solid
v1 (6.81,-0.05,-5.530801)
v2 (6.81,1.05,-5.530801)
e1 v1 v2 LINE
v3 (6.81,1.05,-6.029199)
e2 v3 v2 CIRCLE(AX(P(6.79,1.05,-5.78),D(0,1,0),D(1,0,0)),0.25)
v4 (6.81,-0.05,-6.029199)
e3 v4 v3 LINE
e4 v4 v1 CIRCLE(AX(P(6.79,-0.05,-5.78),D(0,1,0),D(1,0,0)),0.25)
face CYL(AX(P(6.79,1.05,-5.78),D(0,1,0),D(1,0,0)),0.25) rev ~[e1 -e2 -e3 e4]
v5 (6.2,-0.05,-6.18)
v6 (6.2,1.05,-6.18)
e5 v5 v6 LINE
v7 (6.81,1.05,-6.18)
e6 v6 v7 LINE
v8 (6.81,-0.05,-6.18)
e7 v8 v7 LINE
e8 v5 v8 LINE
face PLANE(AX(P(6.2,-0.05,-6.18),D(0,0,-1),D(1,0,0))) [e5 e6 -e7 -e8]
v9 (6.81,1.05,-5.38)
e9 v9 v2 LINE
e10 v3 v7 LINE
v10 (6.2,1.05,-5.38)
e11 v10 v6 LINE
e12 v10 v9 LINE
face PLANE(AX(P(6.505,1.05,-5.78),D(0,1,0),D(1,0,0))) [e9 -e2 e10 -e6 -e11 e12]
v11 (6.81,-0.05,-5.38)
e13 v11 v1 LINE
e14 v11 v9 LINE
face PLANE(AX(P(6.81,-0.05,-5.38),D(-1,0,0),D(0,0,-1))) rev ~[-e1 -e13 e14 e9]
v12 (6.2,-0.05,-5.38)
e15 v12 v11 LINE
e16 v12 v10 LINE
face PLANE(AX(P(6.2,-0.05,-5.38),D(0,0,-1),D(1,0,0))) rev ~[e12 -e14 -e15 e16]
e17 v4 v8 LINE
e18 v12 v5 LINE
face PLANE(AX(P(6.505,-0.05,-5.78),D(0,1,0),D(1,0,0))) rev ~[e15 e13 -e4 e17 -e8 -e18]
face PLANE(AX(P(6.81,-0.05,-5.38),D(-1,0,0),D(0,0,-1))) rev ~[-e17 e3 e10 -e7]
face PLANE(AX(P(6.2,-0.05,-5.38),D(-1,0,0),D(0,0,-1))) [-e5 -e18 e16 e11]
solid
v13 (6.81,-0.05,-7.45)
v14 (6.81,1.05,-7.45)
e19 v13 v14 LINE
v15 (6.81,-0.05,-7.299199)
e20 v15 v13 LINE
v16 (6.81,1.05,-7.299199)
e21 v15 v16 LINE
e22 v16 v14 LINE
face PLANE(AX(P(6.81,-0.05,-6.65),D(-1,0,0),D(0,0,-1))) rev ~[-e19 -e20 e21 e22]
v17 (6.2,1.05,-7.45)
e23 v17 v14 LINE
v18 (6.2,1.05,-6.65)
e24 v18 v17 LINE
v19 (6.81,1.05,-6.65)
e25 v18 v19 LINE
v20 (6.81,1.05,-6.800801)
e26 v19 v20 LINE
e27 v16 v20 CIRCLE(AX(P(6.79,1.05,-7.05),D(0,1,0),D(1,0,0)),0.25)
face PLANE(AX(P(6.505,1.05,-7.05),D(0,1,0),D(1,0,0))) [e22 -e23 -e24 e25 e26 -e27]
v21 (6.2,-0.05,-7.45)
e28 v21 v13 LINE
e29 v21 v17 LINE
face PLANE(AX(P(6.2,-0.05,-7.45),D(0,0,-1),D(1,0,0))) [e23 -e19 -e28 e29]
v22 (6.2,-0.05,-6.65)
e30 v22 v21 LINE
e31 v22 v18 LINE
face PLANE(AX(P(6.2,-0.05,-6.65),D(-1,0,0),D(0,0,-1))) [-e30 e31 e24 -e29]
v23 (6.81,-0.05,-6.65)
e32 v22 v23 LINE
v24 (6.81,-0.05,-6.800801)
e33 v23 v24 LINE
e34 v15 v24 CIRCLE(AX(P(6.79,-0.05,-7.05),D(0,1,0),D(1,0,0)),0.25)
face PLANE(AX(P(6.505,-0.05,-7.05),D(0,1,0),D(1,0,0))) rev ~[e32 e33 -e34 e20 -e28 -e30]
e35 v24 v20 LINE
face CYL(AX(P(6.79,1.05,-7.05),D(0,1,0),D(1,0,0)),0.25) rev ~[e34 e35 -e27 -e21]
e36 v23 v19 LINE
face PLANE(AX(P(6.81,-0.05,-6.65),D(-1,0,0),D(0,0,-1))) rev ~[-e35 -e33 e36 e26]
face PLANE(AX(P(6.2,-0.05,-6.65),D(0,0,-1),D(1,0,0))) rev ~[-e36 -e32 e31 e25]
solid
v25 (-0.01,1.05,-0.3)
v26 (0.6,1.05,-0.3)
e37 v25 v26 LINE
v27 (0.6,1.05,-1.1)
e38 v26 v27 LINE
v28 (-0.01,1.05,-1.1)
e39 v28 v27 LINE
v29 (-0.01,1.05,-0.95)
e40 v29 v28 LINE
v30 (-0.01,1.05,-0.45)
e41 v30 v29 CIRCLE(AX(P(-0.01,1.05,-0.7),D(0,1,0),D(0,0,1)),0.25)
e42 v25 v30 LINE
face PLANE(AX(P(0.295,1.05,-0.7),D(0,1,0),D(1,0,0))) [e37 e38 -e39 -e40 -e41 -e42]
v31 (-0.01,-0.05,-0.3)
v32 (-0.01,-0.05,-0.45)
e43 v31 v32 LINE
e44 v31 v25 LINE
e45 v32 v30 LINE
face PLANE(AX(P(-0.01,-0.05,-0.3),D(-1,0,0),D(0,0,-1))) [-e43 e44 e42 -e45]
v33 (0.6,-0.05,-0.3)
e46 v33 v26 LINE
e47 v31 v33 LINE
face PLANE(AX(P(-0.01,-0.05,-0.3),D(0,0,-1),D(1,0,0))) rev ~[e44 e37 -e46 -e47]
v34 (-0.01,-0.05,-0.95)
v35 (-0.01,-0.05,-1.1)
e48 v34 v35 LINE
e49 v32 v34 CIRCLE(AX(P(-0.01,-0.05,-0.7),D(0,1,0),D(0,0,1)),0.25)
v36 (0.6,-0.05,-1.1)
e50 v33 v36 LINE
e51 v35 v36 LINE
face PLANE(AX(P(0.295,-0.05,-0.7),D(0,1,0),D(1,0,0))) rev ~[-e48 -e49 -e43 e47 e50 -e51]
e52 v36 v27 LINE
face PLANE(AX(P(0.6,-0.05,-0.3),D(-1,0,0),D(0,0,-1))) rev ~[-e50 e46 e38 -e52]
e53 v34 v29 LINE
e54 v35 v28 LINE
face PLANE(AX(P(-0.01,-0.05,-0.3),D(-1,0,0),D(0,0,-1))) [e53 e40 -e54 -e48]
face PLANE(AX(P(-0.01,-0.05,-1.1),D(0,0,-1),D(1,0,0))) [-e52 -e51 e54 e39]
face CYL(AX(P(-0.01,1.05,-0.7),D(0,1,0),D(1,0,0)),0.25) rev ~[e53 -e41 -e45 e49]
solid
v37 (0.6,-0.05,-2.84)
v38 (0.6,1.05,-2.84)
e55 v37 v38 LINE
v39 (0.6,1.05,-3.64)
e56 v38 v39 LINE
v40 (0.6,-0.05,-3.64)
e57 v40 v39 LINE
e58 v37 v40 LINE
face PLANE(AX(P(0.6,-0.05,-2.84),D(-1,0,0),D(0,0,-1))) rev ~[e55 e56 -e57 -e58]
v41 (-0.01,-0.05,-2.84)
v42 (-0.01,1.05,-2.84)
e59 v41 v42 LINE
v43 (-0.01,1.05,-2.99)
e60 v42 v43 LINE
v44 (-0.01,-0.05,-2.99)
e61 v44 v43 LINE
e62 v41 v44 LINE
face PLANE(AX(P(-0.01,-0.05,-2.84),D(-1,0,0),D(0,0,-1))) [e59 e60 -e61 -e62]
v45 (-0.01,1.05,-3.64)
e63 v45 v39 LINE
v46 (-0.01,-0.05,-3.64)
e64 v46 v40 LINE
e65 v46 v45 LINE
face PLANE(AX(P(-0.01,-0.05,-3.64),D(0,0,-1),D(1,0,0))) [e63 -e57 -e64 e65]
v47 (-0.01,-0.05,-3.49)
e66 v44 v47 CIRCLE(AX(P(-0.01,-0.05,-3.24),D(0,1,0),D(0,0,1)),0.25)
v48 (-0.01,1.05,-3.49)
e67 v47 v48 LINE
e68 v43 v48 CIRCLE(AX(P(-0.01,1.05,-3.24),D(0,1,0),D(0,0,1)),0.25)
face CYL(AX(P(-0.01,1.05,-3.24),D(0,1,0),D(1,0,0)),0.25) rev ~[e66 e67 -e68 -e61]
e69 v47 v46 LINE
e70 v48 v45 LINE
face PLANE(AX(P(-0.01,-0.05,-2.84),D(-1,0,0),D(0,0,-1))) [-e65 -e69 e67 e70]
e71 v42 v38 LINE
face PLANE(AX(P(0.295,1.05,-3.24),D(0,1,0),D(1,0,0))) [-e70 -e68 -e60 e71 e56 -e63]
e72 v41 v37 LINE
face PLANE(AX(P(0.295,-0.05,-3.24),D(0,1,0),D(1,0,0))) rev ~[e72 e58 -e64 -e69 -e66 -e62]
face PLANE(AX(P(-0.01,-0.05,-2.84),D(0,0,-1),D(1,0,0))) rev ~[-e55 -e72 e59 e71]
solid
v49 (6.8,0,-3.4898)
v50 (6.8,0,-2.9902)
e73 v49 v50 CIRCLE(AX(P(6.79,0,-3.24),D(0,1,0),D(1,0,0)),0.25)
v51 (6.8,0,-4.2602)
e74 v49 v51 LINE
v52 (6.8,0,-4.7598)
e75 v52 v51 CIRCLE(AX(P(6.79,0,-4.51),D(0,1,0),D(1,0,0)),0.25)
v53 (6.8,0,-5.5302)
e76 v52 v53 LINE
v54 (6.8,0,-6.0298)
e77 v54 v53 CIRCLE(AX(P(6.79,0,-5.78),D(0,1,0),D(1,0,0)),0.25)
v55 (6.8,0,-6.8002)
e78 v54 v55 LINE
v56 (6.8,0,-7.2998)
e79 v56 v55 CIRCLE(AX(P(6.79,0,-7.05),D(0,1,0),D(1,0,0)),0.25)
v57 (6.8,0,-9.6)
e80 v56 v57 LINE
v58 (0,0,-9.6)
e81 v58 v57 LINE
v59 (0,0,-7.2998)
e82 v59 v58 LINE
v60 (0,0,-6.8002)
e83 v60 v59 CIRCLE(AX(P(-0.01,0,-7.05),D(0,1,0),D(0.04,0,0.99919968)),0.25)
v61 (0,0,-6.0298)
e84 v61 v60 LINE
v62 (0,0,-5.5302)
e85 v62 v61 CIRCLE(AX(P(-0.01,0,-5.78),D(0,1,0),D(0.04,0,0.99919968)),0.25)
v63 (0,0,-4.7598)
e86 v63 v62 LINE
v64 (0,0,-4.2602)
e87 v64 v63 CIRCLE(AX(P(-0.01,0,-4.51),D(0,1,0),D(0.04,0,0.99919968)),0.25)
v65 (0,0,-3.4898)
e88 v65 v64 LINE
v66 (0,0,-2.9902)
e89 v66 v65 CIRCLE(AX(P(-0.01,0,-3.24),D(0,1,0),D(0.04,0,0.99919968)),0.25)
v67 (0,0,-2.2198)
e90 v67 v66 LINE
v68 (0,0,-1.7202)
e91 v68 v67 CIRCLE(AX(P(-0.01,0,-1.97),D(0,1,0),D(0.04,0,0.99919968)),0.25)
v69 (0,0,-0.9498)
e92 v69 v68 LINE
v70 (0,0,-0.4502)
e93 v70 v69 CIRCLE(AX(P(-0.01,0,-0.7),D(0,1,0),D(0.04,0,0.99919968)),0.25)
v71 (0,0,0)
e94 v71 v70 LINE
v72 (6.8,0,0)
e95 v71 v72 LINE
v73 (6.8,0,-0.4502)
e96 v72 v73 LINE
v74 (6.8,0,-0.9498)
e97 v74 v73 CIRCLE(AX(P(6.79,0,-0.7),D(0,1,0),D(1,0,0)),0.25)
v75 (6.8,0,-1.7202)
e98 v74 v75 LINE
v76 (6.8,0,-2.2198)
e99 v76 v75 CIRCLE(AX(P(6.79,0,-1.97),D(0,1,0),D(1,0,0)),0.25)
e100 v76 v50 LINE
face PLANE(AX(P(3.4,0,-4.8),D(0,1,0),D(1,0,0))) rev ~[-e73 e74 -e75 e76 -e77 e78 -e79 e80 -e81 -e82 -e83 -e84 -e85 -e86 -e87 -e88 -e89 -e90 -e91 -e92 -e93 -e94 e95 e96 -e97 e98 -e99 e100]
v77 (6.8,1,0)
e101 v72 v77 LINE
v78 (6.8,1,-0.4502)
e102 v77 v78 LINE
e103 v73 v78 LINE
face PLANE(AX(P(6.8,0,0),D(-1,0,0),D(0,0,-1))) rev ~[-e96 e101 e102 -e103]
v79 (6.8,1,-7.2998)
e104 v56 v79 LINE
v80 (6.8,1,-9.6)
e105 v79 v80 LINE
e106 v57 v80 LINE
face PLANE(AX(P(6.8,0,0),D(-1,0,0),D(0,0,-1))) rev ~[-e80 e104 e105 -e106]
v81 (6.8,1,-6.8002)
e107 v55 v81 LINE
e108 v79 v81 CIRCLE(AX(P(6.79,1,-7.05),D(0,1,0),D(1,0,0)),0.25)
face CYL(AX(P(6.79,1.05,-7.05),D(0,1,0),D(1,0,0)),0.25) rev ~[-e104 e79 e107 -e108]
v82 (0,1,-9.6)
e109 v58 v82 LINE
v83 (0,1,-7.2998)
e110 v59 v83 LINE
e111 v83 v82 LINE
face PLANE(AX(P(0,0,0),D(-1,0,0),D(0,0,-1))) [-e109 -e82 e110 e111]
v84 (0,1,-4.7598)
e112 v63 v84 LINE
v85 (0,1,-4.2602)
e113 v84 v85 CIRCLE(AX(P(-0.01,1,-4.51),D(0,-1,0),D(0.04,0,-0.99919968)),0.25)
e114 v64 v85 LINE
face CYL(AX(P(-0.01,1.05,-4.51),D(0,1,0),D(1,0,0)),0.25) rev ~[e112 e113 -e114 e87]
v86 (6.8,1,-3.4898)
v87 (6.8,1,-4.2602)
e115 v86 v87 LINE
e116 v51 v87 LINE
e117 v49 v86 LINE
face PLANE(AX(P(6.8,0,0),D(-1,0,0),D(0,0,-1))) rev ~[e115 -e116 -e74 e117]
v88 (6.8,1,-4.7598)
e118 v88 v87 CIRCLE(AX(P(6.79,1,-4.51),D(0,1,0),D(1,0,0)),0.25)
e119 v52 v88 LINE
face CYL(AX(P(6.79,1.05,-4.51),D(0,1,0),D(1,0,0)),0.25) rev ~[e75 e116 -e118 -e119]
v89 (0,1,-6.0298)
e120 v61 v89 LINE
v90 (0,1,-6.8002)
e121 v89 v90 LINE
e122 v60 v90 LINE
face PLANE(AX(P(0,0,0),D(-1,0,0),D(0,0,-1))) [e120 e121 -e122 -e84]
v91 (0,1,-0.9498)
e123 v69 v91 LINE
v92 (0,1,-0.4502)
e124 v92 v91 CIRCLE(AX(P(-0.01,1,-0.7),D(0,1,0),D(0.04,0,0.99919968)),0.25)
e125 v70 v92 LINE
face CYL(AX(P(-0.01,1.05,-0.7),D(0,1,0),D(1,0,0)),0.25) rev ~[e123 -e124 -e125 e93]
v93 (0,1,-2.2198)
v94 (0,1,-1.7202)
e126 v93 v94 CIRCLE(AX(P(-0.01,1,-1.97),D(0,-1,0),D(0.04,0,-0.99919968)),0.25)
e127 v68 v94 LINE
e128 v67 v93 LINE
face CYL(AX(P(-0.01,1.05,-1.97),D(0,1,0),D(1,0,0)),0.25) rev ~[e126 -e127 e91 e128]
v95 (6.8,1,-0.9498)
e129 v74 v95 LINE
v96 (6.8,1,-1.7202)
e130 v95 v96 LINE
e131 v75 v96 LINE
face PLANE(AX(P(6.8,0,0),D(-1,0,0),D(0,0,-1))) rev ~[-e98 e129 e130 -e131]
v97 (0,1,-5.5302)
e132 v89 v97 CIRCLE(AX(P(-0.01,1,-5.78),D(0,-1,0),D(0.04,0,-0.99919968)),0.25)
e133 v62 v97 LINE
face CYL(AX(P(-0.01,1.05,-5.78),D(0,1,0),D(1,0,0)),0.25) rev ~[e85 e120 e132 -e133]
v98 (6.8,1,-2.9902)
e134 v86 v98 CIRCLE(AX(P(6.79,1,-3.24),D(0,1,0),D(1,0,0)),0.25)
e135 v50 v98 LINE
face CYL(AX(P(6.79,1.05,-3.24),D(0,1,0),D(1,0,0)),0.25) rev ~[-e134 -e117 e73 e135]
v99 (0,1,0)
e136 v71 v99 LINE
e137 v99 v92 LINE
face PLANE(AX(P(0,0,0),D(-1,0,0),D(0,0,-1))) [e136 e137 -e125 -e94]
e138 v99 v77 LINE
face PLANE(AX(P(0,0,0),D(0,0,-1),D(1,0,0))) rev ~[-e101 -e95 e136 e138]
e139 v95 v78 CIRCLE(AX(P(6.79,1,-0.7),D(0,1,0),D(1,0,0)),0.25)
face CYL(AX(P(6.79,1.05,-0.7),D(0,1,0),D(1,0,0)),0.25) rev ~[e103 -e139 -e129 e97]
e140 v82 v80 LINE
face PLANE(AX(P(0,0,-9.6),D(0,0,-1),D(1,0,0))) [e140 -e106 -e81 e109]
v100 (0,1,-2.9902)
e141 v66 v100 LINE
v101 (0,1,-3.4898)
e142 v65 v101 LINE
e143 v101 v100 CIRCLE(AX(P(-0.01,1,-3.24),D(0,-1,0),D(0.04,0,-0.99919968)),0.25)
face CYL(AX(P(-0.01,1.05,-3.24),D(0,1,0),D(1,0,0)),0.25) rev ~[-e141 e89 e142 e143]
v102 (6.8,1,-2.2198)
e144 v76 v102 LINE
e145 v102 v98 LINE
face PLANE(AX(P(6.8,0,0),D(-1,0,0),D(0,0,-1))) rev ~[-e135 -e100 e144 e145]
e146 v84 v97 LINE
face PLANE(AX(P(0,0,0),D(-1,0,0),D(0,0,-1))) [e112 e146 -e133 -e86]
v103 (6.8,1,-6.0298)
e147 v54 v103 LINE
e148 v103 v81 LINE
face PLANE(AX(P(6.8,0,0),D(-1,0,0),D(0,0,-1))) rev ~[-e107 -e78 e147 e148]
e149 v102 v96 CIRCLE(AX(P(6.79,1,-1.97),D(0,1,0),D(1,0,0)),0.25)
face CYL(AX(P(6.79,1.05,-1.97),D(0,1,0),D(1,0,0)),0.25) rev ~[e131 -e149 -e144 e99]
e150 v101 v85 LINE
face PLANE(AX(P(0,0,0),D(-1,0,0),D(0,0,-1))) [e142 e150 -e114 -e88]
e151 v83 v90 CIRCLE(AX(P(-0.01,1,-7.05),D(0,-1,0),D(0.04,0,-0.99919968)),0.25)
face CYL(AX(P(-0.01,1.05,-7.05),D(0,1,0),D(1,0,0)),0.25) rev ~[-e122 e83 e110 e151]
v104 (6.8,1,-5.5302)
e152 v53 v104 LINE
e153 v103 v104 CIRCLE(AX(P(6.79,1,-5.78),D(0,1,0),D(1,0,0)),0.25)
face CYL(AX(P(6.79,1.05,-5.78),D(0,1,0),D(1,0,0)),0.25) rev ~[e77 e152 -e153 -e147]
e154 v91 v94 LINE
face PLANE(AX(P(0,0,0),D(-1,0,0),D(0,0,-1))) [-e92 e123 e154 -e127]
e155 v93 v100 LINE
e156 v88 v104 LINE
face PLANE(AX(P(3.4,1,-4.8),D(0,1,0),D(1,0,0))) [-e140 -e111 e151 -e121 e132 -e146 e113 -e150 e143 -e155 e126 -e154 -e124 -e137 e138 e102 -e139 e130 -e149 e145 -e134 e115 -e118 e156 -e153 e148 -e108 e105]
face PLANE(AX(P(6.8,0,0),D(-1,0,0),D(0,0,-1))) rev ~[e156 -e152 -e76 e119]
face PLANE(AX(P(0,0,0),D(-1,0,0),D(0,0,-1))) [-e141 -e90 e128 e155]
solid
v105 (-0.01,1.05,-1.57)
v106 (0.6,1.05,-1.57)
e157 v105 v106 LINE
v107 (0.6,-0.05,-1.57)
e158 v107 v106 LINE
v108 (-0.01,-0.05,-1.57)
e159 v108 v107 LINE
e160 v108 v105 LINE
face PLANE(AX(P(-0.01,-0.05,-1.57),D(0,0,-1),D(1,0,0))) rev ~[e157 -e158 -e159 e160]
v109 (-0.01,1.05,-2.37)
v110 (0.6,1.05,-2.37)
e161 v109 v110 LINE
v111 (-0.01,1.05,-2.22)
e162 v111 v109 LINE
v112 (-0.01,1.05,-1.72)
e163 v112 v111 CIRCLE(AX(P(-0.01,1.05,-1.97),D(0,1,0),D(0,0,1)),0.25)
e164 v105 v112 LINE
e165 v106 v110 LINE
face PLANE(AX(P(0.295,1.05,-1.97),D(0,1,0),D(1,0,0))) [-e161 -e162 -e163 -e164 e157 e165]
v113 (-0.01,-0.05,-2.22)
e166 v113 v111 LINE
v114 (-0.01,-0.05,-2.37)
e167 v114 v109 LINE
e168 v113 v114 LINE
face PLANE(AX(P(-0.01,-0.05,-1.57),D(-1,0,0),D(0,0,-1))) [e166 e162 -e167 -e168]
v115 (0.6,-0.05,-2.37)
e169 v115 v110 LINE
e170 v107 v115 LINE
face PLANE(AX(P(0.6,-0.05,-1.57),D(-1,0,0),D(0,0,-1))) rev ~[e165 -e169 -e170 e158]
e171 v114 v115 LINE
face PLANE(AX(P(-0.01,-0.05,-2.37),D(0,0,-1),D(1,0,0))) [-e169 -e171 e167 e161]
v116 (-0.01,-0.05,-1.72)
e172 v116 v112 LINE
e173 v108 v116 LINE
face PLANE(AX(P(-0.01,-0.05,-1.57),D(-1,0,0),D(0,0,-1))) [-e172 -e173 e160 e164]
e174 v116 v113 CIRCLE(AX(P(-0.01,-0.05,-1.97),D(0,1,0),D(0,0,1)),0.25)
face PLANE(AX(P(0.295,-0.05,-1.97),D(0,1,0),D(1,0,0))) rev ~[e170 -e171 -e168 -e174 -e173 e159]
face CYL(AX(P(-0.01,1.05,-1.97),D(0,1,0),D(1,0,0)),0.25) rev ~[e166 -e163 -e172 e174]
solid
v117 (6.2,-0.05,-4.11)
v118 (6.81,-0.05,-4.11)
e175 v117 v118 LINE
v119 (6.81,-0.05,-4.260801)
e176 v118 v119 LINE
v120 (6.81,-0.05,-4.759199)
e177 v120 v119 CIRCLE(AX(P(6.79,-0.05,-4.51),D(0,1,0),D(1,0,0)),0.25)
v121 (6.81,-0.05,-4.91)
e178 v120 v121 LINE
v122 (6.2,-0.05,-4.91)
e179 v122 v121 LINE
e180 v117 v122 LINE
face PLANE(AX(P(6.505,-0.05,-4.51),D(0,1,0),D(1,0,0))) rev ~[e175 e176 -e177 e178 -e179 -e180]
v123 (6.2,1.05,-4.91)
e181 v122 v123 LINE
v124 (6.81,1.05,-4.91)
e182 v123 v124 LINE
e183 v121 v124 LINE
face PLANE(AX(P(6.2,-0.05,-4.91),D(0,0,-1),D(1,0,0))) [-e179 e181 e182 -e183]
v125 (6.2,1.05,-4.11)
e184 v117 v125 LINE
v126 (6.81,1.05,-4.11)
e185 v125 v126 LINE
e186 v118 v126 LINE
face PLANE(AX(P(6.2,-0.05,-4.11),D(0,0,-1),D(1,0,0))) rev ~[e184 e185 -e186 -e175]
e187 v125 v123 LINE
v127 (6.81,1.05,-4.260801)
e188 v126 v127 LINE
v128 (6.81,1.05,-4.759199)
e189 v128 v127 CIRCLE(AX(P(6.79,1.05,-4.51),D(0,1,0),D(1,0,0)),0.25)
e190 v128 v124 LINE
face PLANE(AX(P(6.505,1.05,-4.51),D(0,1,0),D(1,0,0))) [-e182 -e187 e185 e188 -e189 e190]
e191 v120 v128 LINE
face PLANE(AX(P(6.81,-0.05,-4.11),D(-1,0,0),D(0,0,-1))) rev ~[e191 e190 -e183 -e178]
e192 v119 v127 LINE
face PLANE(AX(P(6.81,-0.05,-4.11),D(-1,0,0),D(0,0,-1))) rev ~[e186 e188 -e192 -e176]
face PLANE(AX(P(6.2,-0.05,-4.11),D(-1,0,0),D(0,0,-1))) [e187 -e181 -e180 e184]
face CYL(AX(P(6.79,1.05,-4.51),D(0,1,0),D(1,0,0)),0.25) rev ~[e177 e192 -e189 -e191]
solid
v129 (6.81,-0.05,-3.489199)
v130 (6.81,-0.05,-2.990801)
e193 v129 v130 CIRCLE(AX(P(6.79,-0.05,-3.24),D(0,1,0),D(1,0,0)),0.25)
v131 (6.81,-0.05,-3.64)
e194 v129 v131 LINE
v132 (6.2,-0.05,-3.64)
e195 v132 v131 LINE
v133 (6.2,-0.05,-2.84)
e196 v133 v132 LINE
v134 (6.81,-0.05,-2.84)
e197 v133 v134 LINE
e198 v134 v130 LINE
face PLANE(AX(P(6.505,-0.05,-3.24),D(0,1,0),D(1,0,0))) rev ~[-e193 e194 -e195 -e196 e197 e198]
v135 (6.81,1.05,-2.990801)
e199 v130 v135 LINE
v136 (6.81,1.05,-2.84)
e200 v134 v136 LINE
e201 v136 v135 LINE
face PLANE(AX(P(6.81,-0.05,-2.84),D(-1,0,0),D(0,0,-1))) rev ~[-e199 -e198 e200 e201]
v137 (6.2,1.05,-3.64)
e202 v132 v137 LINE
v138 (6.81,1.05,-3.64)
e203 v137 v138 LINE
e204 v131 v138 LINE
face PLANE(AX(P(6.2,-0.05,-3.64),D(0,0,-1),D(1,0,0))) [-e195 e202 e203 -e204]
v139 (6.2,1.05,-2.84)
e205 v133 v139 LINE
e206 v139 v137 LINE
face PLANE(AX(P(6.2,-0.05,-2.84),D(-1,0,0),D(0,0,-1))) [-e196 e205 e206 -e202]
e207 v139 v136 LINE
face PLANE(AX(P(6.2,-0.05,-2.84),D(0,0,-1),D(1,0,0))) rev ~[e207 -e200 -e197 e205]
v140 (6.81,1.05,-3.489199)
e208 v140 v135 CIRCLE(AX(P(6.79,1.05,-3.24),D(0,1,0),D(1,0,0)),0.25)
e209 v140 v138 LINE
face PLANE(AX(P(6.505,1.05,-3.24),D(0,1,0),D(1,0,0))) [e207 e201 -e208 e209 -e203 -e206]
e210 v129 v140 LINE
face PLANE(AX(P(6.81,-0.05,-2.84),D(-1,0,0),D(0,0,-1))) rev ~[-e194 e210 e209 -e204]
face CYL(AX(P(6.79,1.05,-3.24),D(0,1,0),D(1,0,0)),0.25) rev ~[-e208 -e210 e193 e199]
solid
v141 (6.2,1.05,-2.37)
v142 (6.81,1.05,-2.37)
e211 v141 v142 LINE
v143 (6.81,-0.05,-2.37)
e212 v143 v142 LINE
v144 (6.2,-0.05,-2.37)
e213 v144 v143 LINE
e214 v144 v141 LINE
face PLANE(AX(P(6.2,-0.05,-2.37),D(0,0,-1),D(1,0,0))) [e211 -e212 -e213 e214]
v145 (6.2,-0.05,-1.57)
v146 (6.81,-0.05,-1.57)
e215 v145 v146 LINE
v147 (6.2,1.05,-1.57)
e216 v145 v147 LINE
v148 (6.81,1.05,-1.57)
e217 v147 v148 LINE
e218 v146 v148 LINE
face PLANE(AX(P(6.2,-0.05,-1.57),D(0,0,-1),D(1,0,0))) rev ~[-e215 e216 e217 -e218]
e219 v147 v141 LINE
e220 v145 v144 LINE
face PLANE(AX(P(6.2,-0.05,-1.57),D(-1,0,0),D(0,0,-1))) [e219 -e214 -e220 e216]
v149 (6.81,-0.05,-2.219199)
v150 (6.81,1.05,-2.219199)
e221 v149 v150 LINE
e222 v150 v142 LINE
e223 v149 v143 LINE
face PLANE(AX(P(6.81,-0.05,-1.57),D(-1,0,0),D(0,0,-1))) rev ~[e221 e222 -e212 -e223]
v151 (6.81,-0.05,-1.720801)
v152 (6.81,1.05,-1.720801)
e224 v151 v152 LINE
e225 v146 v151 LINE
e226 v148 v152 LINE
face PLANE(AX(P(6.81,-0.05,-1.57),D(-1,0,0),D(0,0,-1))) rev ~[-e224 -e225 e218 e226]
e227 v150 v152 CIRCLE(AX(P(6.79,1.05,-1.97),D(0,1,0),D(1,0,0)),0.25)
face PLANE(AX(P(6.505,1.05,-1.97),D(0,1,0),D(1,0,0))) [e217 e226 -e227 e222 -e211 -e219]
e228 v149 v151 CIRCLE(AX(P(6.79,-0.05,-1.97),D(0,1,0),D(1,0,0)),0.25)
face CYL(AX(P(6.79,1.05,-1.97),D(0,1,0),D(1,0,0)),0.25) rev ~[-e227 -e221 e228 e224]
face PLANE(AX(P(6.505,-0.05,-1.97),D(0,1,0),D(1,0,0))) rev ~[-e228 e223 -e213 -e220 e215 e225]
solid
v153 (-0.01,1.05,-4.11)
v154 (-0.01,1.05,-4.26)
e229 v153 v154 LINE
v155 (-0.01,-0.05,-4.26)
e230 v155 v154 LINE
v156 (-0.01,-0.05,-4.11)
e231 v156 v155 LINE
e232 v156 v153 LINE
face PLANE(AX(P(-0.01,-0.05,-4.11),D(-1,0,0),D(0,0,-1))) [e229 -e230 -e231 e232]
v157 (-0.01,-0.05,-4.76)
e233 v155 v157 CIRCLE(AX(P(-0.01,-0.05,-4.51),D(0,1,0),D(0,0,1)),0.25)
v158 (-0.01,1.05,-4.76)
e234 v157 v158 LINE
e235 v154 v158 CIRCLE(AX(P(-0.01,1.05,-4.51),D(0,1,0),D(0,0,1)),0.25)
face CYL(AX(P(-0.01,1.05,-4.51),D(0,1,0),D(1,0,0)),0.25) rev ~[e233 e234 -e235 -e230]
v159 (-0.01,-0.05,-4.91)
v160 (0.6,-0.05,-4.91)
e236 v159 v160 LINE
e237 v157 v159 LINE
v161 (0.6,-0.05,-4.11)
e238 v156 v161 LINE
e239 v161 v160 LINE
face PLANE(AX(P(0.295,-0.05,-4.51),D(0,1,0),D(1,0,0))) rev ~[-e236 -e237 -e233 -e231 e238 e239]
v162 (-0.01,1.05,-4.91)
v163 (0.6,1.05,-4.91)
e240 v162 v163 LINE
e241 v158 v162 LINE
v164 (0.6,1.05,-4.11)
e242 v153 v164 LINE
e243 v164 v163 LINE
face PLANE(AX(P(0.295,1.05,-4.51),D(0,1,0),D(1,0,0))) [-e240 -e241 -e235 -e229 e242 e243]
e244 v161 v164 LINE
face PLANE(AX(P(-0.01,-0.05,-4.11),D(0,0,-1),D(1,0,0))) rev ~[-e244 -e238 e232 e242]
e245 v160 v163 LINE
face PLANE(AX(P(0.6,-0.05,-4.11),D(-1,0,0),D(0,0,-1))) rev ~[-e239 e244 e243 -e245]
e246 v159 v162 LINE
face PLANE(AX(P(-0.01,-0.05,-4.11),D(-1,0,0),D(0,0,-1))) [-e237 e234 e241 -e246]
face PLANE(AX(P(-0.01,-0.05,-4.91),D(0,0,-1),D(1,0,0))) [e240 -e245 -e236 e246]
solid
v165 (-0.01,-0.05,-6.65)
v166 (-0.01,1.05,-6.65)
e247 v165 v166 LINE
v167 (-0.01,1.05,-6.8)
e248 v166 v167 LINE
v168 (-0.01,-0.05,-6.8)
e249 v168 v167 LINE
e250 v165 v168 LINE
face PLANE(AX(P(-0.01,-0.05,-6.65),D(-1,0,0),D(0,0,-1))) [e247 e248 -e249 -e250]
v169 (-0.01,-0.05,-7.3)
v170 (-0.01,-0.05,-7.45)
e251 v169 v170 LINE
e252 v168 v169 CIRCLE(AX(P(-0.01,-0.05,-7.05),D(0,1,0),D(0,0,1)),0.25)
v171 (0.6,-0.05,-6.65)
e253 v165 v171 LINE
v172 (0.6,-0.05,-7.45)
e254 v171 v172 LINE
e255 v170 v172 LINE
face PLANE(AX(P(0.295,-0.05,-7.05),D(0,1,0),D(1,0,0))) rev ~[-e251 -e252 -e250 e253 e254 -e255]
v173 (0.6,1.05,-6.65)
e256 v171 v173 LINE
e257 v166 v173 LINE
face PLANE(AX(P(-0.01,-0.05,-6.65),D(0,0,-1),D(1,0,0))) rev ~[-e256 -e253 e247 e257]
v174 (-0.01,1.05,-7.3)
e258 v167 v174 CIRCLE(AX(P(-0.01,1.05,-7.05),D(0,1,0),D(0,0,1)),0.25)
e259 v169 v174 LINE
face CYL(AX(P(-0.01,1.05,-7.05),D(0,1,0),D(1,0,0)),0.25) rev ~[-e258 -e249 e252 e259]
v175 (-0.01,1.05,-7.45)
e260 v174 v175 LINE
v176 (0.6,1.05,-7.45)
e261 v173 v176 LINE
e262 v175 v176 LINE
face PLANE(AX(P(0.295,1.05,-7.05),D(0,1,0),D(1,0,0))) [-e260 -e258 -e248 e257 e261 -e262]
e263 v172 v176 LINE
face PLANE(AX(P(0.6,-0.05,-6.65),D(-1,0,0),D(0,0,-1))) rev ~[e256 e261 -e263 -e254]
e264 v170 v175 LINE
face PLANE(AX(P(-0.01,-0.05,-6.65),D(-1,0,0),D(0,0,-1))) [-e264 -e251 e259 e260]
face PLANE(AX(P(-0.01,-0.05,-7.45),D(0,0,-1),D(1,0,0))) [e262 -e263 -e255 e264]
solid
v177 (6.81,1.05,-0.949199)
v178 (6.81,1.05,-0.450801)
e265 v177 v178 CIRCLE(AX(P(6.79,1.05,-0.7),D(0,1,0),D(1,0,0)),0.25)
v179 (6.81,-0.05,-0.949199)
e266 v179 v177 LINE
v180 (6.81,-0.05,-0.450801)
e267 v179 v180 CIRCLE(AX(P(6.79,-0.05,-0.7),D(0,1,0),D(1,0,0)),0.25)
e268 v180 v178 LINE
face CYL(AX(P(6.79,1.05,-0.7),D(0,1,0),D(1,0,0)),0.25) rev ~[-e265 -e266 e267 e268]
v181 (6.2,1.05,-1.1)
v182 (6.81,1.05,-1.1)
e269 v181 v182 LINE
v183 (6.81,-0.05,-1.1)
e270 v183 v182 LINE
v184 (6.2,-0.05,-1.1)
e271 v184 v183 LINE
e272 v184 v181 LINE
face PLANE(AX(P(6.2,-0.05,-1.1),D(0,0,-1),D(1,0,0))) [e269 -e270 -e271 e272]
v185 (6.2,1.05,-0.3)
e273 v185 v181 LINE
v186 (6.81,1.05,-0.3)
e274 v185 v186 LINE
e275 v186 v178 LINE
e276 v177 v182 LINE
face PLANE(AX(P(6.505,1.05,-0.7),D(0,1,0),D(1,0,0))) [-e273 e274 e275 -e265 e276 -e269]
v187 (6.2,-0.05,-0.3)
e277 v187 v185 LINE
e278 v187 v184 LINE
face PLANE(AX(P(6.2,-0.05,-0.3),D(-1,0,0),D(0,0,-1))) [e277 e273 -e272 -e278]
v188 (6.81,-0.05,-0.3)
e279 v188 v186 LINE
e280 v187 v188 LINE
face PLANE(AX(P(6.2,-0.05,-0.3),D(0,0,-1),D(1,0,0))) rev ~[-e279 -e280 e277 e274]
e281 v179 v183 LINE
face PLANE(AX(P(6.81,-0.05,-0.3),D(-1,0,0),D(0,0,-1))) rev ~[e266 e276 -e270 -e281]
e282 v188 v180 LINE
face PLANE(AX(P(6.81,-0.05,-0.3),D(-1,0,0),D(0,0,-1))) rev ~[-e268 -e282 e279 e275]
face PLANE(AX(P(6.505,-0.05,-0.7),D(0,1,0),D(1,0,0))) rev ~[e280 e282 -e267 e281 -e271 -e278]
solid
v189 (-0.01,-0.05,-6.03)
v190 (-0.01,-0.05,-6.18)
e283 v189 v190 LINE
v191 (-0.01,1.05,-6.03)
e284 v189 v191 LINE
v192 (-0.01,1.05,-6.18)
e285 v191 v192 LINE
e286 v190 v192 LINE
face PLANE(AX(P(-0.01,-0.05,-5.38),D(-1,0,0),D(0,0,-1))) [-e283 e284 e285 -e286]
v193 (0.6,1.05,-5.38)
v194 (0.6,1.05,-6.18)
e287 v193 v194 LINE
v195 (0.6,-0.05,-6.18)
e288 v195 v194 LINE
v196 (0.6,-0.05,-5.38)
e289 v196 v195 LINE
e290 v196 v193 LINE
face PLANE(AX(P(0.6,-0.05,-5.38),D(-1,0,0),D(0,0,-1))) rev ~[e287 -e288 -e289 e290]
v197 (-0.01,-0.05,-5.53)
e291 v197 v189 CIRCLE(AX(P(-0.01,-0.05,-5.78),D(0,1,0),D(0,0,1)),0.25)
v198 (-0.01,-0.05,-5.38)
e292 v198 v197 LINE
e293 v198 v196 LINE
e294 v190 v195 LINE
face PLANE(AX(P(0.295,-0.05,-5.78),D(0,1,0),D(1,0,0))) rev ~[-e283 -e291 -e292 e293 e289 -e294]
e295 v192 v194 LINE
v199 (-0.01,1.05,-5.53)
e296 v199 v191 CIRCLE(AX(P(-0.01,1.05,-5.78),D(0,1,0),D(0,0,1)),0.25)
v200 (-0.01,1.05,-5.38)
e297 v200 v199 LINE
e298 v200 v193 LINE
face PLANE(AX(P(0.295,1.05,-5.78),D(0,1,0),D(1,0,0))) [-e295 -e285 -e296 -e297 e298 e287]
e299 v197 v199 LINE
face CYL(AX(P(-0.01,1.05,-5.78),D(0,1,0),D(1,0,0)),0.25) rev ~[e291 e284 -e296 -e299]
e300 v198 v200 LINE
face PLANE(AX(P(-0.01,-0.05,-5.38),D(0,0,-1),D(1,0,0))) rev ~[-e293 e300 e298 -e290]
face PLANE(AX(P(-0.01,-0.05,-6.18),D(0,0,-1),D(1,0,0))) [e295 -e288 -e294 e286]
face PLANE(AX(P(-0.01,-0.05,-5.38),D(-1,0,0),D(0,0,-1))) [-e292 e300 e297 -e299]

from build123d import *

# Parameters (mm, degrees)
SKETCH_1_W              = 6.8
SKETCH_1_H              = 9.6
EXTRUDE_1_DEPTH         = 1
EXTRUDE_2_DEPTH         = 0.05
EXTRUDE_2_DEPTH_BACK    = 1.05
SKETCH_2_W              = 0.61
SKETCH_2_H              = 0.8
EXTRUDE_2_2_DEPTH       = 0.05
EXTRUDE_2_2_DEPTH_BACK  = 1.05
EXTRUDE_2_3_DEPTH       = 0.05
EXTRUDE_2_3_DEPTH_BACK  = 1.05
EXTRUDE_2_4_DEPTH       = 0.05
EXTRUDE_2_4_DEPTH_BACK  = 1.05
EXTRUDE_2_5_DEPTH       = 0.05
EXTRUDE_2_5_DEPTH_BACK  = 1.05
EXTRUDE_2_6_DEPTH       = 0.05
EXTRUDE_2_6_DEPTH_BACK  = 1.05
EXTRUDE_2_7_DEPTH       = 0.05
EXTRUDE_2_7_DEPTH_BACK  = 1.05
EXTRUDE_2_8_DEPTH       = 0.05
EXTRUDE_2_8_DEPTH_BACK  = 1.05
EXTRUDE_2_9_DEPTH       = 0.05
EXTRUDE_2_9_DEPTH_BACK  = 1.05
EXTRUDE_2_10_DEPTH      = 0.05
EXTRUDE_2_10_DEPTH_BACK = 1.05
EXTRUDE_2_11_DEPTH      = 0.05
EXTRUDE_2_11_DEPTH_BACK = 1.05
EXTRUDE_2_12_DEPTH      = 0.05
EXTRUDE_2_12_DEPTH_BACK = 1.05
SKETCH_4_R              = 0.25
CUT_EXTRUDE_2_DEPTH     = 12.821425464


with BuildPart() as part:
    # 草图1 → 凸台-拉伸1 (new body)
    with BuildSketch(Plane(origin=(0, 0, 0), x_dir=(1, 0, 0), z_dir=(0, 1, 0))):
        with Locations((3.4, 4.8)):
            Rectangle(SKETCH_1_W, SKETCH_1_H)
    extrude(amount=EXTRUDE_1_DEPTH)


with BuildPart() as body_2:
    # 草图2 → 凸台-拉伸2 (new, two sides: drawn at the far end of the back side and taken through both)
    with BuildSketch(Plane(origin=(0, 1, 0), x_dir=(1, 0, 0), z_dir=(0, 1, 0)).offset(-EXTRUDE_2_DEPTH_BACK)):
        with Locations((0.295, 0.7)):
            Rectangle(SKETCH_2_W, SKETCH_2_H)
    extrude(amount=EXTRUDE_2_DEPTH + EXTRUDE_2_DEPTH_BACK)


with BuildPart() as body_3:
    # 草图2 → Extrude 2 2 (new, two sides: drawn at the far end of the back side and taken through both)
    with BuildSketch(Plane(origin=(0, 1, 0), x_dir=(1, 0, 0), z_dir=(0, 1, 0)).offset(-EXTRUDE_2_2_DEPTH_BACK)):
        with Locations((0.295, 1.97)):
            Rectangle(SKETCH_2_W, SKETCH_2_H)
    extrude(amount=EXTRUDE_2_2_DEPTH + EXTRUDE_2_2_DEPTH_BACK)


with BuildPart() as body_4:
    # 草图2 → Extrude 2 3 (new, two sides: drawn at the far end of the back side and taken through both)
    with BuildSketch(Plane(origin=(0, 1, 0), x_dir=(1, 0, 0), z_dir=(0, 1, 0)).offset(-EXTRUDE_2_3_DEPTH_BACK)):
        with Locations((0.295, 3.24)):
            Rectangle(SKETCH_2_W, SKETCH_2_H)
    extrude(amount=EXTRUDE_2_3_DEPTH + EXTRUDE_2_3_DEPTH_BACK)


with BuildPart() as body_5:
    # 草图2 → Extrude 2 4 (new, two sides: drawn at the far end of the back side and taken through both)
    with BuildSketch(Plane(origin=(0, 1, 0), x_dir=(1, 0, 0), z_dir=(0, 1, 0)).offset(-EXTRUDE_2_4_DEPTH_BACK)):
        with Locations((0.295, 4.51)):
            Rectangle(SKETCH_2_W, SKETCH_2_H)
    extrude(amount=EXTRUDE_2_4_DEPTH + EXTRUDE_2_4_DEPTH_BACK)


with BuildPart() as body_6:
    # 草图2 → Extrude 2 5 (new, two sides: drawn at the far end of the back side and taken through both)
    with BuildSketch(Plane(origin=(0, 1, 0), x_dir=(1, 0, 0), z_dir=(0, 1, 0)).offset(-EXTRUDE_2_5_DEPTH_BACK)):
        with Locations((0.295, 5.78)):
            Rectangle(SKETCH_2_W, SKETCH_2_H)
    extrude(amount=EXTRUDE_2_5_DEPTH + EXTRUDE_2_5_DEPTH_BACK)


with BuildPart() as body_7:
    # 草图2 → Extrude 2 6 (new, two sides: drawn at the far end of the back side and taken through both)
    with BuildSketch(Plane(origin=(0, 1, 0), x_dir=(1, 0, 0), z_dir=(0, 1, 0)).offset(-EXTRUDE_2_6_DEPTH_BACK)):
        with Locations((0.295, 7.05)):
            Rectangle(SKETCH_2_W, SKETCH_2_H)
    extrude(amount=EXTRUDE_2_6_DEPTH + EXTRUDE_2_6_DEPTH_BACK)


with BuildPart() as body_8:
    # 草图2 → Extrude 2 7 (new, two sides: drawn at the far end of the back side and taken through both)
    with BuildSketch(Plane(origin=(0, 1, 0), x_dir=(1, 0, 0), z_dir=(0, 1, 0)).offset(-EXTRUDE_2_7_DEPTH_BACK)):
        with Locations((6.505, 7.05)):
            Rectangle(SKETCH_2_W, SKETCH_2_H)
    extrude(amount=EXTRUDE_2_7_DEPTH + EXTRUDE_2_7_DEPTH_BACK)


with BuildPart() as body_9:
    # 草图2 → Extrude 2 8 (new, two sides: drawn at the far end of the back side and taken through both)
    with BuildSketch(Plane(origin=(0, 1, 0), x_dir=(1, 0, 0), z_dir=(0, 1, 0)).offset(-EXTRUDE_2_8_DEPTH_BACK)):
        with Locations((6.505, 5.78)):
            Rectangle(SKETCH_2_W, SKETCH_2_H)
    extrude(amount=EXTRUDE_2_8_DEPTH + EXTRUDE_2_8_DEPTH_BACK)


with BuildPart() as body_10:
    # 草图2 → Extrude 2 9 (new, two sides: drawn at the far end of the back side and taken through both)
    with BuildSketch(Plane(origin=(0, 1, 0), x_dir=(1, 0, 0), z_dir=(0, 1, 0)).offset(-EXTRUDE_2_9_DEPTH_BACK)):
        with Locations((6.505, 4.51)):
            Rectangle(SKETCH_2_W, SKETCH_2_H)
    extrude(amount=EXTRUDE_2_9_DEPTH + EXTRUDE_2_9_DEPTH_BACK)


with BuildPart() as body_11:
    # 草图2 → Extrude 2 10 (new, two sides: drawn at the far end of the back side and taken through both)
    with BuildSketch(Plane(origin=(0, 1, 0), x_dir=(1, 0, 0), z_dir=(0, 1, 0)).offset(-EXTRUDE_2_10_DEPTH_BACK)):
        with Locations((6.505, 3.24)):
            Rectangle(SKETCH_2_W, SKETCH_2_H)
    extrude(amount=EXTRUDE_2_10_DEPTH + EXTRUDE_2_10_DEPTH_BACK)


with BuildPart() as body_12:
    # 草图2 → Extrude 2 11 (new, two sides: drawn at the far end of the back side and taken through both)
    with BuildSketch(Plane(origin=(0, 1, 0), x_dir=(1, 0, 0), z_dir=(0, 1, 0)).offset(-EXTRUDE_2_11_DEPTH_BACK)):
        with Locations((6.505, 0.7)):
            Rectangle(SKETCH_2_W, SKETCH_2_H)
    extrude(amount=EXTRUDE_2_11_DEPTH + EXTRUDE_2_11_DEPTH_BACK)


with BuildPart() as body_13:
    # 草图2 → Extrude 2 12 (new, two sides: drawn at the far end of the back side and taken through both)
    with BuildSketch(Plane(origin=(0, 1, 0), x_dir=(1, 0, 0), z_dir=(0, 1, 0)).offset(-EXTRUDE_2_12_DEPTH_BACK)):
        with Locations((6.505, 1.97)):
            Rectangle(SKETCH_2_W, SKETCH_2_H)
    extrude(amount=EXTRUDE_2_12_DEPTH + EXTRUDE_2_12_DEPTH_BACK)


with BuildPart() as cut_extrude_2_tool:
    # 草图4 → 切除-拉伸2 (new, through all)
    with BuildSketch(Plane(origin=(0, 1.05, 0), x_dir=(1, 0, 0), z_dir=(0, 1, 0))):
        with Locations((-0.01, 0.7)):
            Circle(SKETCH_4_R)
        with Locations((6.79, 0.7)):
            Circle(SKETCH_4_R)
        with Locations((6.79, 1.97)):
            Circle(SKETCH_4_R)
        with Locations((6.79, 3.24)):
            Circle(SKETCH_4_R)
        with Locations((6.79, 4.51)):
            Circle(SKETCH_4_R)
        with Locations((6.79, 5.78)):
            Circle(SKETCH_4_R)
        with Locations((6.79, 7.05)):
            Circle(SKETCH_4_R)
        with Locations((-0.01, 1.97)):
            Circle(SKETCH_4_R)
        with Locations((-0.01, 3.24)):
            Circle(SKETCH_4_R)
        with Locations((-0.01, 4.51)):
            Circle(SKETCH_4_R)
        with Locations((-0.01, 5.78)):
            Circle(SKETCH_4_R)
        with Locations((-0.01, 7.05)):
            Circle(SKETCH_4_R)
    extrude(amount=-CUT_EXTRUDE_2_DEPTH)


with BuildPart() as part_1:
    add(part.part)

    # 切除-拉伸2: cut by cut_extrude_2_tool
    add(cut_extrude_2_tool.part, mode=Mode.SUBTRACT)


with BuildPart() as body_2_1:
    add(body_2.part)

    # 切除-拉伸2: cut by cut_extrude_2_tool
    add(cut_extrude_2_tool.part, mode=Mode.SUBTRACT)


with BuildPart() as body_3_1:
    add(body_3.part)

    # 切除-拉伸2: cut by cut_extrude_2_tool
    add(cut_extrude_2_tool.part, mode=Mode.SUBTRACT)


with BuildPart() as body_4_1:
    add(body_4.part)

    # 切除-拉伸2: cut by cut_extrude_2_tool
    add(cut_extrude_2_tool.part, mode=Mode.SUBTRACT)


with BuildPart() as body_5_1:
    add(body_5.part)

    # 切除-拉伸2: cut by cut_extrude_2_tool
    add(cut_extrude_2_tool.part, mode=Mode.SUBTRACT)


with BuildPart() as body_6_1:
    add(body_6.part)

    # 切除-拉伸2: cut by cut_extrude_2_tool
    add(cut_extrude_2_tool.part, mode=Mode.SUBTRACT)


with BuildPart() as body_7_1:
    add(body_7.part)

    # 切除-拉伸2: cut by cut_extrude_2_tool
    add(cut_extrude_2_tool.part, mode=Mode.SUBTRACT)


with BuildPart() as body_8_1:
    add(body_8.part)

    # 切除-拉伸2: cut by cut_extrude_2_tool
    add(cut_extrude_2_tool.part, mode=Mode.SUBTRACT)


with BuildPart() as body_9_1:
    add(body_9.part)

    # 切除-拉伸2: cut by cut_extrude_2_tool
    add(cut_extrude_2_tool.part, mode=Mode.SUBTRACT)


with BuildPart() as body_10_1:
    add(body_10.part)

    # 切除-拉伸2: cut by cut_extrude_2_tool
    add(cut_extrude_2_tool.part, mode=Mode.SUBTRACT)


with BuildPart() as body_11_1:
    add(body_11.part)

    # 切除-拉伸2: cut by cut_extrude_2_tool
    add(cut_extrude_2_tool.part, mode=Mode.SUBTRACT)


with BuildPart() as body_12_1:
    add(body_12.part)

    # 切除-拉伸2: cut by cut_extrude_2_tool
    add(cut_extrude_2_tool.part, mode=Mode.SUBTRACT)


with BuildPart() as body_13_1:
    add(body_13.part)

    # 切除-拉伸2: cut by cut_extrude_2_tool
    add(cut_extrude_2_tool.part, mode=Mode.SUBTRACT)


solid = Compound([part_1.part, body_2_1.part, body_3_1.part, body_4_1.part, body_5_1.part, body_6_1.part, body_7_1.part, body_8_1.part, body_9_1.part, body_10_1.part, body_11_1.part, body_12_1.part, body_13_1.part])
